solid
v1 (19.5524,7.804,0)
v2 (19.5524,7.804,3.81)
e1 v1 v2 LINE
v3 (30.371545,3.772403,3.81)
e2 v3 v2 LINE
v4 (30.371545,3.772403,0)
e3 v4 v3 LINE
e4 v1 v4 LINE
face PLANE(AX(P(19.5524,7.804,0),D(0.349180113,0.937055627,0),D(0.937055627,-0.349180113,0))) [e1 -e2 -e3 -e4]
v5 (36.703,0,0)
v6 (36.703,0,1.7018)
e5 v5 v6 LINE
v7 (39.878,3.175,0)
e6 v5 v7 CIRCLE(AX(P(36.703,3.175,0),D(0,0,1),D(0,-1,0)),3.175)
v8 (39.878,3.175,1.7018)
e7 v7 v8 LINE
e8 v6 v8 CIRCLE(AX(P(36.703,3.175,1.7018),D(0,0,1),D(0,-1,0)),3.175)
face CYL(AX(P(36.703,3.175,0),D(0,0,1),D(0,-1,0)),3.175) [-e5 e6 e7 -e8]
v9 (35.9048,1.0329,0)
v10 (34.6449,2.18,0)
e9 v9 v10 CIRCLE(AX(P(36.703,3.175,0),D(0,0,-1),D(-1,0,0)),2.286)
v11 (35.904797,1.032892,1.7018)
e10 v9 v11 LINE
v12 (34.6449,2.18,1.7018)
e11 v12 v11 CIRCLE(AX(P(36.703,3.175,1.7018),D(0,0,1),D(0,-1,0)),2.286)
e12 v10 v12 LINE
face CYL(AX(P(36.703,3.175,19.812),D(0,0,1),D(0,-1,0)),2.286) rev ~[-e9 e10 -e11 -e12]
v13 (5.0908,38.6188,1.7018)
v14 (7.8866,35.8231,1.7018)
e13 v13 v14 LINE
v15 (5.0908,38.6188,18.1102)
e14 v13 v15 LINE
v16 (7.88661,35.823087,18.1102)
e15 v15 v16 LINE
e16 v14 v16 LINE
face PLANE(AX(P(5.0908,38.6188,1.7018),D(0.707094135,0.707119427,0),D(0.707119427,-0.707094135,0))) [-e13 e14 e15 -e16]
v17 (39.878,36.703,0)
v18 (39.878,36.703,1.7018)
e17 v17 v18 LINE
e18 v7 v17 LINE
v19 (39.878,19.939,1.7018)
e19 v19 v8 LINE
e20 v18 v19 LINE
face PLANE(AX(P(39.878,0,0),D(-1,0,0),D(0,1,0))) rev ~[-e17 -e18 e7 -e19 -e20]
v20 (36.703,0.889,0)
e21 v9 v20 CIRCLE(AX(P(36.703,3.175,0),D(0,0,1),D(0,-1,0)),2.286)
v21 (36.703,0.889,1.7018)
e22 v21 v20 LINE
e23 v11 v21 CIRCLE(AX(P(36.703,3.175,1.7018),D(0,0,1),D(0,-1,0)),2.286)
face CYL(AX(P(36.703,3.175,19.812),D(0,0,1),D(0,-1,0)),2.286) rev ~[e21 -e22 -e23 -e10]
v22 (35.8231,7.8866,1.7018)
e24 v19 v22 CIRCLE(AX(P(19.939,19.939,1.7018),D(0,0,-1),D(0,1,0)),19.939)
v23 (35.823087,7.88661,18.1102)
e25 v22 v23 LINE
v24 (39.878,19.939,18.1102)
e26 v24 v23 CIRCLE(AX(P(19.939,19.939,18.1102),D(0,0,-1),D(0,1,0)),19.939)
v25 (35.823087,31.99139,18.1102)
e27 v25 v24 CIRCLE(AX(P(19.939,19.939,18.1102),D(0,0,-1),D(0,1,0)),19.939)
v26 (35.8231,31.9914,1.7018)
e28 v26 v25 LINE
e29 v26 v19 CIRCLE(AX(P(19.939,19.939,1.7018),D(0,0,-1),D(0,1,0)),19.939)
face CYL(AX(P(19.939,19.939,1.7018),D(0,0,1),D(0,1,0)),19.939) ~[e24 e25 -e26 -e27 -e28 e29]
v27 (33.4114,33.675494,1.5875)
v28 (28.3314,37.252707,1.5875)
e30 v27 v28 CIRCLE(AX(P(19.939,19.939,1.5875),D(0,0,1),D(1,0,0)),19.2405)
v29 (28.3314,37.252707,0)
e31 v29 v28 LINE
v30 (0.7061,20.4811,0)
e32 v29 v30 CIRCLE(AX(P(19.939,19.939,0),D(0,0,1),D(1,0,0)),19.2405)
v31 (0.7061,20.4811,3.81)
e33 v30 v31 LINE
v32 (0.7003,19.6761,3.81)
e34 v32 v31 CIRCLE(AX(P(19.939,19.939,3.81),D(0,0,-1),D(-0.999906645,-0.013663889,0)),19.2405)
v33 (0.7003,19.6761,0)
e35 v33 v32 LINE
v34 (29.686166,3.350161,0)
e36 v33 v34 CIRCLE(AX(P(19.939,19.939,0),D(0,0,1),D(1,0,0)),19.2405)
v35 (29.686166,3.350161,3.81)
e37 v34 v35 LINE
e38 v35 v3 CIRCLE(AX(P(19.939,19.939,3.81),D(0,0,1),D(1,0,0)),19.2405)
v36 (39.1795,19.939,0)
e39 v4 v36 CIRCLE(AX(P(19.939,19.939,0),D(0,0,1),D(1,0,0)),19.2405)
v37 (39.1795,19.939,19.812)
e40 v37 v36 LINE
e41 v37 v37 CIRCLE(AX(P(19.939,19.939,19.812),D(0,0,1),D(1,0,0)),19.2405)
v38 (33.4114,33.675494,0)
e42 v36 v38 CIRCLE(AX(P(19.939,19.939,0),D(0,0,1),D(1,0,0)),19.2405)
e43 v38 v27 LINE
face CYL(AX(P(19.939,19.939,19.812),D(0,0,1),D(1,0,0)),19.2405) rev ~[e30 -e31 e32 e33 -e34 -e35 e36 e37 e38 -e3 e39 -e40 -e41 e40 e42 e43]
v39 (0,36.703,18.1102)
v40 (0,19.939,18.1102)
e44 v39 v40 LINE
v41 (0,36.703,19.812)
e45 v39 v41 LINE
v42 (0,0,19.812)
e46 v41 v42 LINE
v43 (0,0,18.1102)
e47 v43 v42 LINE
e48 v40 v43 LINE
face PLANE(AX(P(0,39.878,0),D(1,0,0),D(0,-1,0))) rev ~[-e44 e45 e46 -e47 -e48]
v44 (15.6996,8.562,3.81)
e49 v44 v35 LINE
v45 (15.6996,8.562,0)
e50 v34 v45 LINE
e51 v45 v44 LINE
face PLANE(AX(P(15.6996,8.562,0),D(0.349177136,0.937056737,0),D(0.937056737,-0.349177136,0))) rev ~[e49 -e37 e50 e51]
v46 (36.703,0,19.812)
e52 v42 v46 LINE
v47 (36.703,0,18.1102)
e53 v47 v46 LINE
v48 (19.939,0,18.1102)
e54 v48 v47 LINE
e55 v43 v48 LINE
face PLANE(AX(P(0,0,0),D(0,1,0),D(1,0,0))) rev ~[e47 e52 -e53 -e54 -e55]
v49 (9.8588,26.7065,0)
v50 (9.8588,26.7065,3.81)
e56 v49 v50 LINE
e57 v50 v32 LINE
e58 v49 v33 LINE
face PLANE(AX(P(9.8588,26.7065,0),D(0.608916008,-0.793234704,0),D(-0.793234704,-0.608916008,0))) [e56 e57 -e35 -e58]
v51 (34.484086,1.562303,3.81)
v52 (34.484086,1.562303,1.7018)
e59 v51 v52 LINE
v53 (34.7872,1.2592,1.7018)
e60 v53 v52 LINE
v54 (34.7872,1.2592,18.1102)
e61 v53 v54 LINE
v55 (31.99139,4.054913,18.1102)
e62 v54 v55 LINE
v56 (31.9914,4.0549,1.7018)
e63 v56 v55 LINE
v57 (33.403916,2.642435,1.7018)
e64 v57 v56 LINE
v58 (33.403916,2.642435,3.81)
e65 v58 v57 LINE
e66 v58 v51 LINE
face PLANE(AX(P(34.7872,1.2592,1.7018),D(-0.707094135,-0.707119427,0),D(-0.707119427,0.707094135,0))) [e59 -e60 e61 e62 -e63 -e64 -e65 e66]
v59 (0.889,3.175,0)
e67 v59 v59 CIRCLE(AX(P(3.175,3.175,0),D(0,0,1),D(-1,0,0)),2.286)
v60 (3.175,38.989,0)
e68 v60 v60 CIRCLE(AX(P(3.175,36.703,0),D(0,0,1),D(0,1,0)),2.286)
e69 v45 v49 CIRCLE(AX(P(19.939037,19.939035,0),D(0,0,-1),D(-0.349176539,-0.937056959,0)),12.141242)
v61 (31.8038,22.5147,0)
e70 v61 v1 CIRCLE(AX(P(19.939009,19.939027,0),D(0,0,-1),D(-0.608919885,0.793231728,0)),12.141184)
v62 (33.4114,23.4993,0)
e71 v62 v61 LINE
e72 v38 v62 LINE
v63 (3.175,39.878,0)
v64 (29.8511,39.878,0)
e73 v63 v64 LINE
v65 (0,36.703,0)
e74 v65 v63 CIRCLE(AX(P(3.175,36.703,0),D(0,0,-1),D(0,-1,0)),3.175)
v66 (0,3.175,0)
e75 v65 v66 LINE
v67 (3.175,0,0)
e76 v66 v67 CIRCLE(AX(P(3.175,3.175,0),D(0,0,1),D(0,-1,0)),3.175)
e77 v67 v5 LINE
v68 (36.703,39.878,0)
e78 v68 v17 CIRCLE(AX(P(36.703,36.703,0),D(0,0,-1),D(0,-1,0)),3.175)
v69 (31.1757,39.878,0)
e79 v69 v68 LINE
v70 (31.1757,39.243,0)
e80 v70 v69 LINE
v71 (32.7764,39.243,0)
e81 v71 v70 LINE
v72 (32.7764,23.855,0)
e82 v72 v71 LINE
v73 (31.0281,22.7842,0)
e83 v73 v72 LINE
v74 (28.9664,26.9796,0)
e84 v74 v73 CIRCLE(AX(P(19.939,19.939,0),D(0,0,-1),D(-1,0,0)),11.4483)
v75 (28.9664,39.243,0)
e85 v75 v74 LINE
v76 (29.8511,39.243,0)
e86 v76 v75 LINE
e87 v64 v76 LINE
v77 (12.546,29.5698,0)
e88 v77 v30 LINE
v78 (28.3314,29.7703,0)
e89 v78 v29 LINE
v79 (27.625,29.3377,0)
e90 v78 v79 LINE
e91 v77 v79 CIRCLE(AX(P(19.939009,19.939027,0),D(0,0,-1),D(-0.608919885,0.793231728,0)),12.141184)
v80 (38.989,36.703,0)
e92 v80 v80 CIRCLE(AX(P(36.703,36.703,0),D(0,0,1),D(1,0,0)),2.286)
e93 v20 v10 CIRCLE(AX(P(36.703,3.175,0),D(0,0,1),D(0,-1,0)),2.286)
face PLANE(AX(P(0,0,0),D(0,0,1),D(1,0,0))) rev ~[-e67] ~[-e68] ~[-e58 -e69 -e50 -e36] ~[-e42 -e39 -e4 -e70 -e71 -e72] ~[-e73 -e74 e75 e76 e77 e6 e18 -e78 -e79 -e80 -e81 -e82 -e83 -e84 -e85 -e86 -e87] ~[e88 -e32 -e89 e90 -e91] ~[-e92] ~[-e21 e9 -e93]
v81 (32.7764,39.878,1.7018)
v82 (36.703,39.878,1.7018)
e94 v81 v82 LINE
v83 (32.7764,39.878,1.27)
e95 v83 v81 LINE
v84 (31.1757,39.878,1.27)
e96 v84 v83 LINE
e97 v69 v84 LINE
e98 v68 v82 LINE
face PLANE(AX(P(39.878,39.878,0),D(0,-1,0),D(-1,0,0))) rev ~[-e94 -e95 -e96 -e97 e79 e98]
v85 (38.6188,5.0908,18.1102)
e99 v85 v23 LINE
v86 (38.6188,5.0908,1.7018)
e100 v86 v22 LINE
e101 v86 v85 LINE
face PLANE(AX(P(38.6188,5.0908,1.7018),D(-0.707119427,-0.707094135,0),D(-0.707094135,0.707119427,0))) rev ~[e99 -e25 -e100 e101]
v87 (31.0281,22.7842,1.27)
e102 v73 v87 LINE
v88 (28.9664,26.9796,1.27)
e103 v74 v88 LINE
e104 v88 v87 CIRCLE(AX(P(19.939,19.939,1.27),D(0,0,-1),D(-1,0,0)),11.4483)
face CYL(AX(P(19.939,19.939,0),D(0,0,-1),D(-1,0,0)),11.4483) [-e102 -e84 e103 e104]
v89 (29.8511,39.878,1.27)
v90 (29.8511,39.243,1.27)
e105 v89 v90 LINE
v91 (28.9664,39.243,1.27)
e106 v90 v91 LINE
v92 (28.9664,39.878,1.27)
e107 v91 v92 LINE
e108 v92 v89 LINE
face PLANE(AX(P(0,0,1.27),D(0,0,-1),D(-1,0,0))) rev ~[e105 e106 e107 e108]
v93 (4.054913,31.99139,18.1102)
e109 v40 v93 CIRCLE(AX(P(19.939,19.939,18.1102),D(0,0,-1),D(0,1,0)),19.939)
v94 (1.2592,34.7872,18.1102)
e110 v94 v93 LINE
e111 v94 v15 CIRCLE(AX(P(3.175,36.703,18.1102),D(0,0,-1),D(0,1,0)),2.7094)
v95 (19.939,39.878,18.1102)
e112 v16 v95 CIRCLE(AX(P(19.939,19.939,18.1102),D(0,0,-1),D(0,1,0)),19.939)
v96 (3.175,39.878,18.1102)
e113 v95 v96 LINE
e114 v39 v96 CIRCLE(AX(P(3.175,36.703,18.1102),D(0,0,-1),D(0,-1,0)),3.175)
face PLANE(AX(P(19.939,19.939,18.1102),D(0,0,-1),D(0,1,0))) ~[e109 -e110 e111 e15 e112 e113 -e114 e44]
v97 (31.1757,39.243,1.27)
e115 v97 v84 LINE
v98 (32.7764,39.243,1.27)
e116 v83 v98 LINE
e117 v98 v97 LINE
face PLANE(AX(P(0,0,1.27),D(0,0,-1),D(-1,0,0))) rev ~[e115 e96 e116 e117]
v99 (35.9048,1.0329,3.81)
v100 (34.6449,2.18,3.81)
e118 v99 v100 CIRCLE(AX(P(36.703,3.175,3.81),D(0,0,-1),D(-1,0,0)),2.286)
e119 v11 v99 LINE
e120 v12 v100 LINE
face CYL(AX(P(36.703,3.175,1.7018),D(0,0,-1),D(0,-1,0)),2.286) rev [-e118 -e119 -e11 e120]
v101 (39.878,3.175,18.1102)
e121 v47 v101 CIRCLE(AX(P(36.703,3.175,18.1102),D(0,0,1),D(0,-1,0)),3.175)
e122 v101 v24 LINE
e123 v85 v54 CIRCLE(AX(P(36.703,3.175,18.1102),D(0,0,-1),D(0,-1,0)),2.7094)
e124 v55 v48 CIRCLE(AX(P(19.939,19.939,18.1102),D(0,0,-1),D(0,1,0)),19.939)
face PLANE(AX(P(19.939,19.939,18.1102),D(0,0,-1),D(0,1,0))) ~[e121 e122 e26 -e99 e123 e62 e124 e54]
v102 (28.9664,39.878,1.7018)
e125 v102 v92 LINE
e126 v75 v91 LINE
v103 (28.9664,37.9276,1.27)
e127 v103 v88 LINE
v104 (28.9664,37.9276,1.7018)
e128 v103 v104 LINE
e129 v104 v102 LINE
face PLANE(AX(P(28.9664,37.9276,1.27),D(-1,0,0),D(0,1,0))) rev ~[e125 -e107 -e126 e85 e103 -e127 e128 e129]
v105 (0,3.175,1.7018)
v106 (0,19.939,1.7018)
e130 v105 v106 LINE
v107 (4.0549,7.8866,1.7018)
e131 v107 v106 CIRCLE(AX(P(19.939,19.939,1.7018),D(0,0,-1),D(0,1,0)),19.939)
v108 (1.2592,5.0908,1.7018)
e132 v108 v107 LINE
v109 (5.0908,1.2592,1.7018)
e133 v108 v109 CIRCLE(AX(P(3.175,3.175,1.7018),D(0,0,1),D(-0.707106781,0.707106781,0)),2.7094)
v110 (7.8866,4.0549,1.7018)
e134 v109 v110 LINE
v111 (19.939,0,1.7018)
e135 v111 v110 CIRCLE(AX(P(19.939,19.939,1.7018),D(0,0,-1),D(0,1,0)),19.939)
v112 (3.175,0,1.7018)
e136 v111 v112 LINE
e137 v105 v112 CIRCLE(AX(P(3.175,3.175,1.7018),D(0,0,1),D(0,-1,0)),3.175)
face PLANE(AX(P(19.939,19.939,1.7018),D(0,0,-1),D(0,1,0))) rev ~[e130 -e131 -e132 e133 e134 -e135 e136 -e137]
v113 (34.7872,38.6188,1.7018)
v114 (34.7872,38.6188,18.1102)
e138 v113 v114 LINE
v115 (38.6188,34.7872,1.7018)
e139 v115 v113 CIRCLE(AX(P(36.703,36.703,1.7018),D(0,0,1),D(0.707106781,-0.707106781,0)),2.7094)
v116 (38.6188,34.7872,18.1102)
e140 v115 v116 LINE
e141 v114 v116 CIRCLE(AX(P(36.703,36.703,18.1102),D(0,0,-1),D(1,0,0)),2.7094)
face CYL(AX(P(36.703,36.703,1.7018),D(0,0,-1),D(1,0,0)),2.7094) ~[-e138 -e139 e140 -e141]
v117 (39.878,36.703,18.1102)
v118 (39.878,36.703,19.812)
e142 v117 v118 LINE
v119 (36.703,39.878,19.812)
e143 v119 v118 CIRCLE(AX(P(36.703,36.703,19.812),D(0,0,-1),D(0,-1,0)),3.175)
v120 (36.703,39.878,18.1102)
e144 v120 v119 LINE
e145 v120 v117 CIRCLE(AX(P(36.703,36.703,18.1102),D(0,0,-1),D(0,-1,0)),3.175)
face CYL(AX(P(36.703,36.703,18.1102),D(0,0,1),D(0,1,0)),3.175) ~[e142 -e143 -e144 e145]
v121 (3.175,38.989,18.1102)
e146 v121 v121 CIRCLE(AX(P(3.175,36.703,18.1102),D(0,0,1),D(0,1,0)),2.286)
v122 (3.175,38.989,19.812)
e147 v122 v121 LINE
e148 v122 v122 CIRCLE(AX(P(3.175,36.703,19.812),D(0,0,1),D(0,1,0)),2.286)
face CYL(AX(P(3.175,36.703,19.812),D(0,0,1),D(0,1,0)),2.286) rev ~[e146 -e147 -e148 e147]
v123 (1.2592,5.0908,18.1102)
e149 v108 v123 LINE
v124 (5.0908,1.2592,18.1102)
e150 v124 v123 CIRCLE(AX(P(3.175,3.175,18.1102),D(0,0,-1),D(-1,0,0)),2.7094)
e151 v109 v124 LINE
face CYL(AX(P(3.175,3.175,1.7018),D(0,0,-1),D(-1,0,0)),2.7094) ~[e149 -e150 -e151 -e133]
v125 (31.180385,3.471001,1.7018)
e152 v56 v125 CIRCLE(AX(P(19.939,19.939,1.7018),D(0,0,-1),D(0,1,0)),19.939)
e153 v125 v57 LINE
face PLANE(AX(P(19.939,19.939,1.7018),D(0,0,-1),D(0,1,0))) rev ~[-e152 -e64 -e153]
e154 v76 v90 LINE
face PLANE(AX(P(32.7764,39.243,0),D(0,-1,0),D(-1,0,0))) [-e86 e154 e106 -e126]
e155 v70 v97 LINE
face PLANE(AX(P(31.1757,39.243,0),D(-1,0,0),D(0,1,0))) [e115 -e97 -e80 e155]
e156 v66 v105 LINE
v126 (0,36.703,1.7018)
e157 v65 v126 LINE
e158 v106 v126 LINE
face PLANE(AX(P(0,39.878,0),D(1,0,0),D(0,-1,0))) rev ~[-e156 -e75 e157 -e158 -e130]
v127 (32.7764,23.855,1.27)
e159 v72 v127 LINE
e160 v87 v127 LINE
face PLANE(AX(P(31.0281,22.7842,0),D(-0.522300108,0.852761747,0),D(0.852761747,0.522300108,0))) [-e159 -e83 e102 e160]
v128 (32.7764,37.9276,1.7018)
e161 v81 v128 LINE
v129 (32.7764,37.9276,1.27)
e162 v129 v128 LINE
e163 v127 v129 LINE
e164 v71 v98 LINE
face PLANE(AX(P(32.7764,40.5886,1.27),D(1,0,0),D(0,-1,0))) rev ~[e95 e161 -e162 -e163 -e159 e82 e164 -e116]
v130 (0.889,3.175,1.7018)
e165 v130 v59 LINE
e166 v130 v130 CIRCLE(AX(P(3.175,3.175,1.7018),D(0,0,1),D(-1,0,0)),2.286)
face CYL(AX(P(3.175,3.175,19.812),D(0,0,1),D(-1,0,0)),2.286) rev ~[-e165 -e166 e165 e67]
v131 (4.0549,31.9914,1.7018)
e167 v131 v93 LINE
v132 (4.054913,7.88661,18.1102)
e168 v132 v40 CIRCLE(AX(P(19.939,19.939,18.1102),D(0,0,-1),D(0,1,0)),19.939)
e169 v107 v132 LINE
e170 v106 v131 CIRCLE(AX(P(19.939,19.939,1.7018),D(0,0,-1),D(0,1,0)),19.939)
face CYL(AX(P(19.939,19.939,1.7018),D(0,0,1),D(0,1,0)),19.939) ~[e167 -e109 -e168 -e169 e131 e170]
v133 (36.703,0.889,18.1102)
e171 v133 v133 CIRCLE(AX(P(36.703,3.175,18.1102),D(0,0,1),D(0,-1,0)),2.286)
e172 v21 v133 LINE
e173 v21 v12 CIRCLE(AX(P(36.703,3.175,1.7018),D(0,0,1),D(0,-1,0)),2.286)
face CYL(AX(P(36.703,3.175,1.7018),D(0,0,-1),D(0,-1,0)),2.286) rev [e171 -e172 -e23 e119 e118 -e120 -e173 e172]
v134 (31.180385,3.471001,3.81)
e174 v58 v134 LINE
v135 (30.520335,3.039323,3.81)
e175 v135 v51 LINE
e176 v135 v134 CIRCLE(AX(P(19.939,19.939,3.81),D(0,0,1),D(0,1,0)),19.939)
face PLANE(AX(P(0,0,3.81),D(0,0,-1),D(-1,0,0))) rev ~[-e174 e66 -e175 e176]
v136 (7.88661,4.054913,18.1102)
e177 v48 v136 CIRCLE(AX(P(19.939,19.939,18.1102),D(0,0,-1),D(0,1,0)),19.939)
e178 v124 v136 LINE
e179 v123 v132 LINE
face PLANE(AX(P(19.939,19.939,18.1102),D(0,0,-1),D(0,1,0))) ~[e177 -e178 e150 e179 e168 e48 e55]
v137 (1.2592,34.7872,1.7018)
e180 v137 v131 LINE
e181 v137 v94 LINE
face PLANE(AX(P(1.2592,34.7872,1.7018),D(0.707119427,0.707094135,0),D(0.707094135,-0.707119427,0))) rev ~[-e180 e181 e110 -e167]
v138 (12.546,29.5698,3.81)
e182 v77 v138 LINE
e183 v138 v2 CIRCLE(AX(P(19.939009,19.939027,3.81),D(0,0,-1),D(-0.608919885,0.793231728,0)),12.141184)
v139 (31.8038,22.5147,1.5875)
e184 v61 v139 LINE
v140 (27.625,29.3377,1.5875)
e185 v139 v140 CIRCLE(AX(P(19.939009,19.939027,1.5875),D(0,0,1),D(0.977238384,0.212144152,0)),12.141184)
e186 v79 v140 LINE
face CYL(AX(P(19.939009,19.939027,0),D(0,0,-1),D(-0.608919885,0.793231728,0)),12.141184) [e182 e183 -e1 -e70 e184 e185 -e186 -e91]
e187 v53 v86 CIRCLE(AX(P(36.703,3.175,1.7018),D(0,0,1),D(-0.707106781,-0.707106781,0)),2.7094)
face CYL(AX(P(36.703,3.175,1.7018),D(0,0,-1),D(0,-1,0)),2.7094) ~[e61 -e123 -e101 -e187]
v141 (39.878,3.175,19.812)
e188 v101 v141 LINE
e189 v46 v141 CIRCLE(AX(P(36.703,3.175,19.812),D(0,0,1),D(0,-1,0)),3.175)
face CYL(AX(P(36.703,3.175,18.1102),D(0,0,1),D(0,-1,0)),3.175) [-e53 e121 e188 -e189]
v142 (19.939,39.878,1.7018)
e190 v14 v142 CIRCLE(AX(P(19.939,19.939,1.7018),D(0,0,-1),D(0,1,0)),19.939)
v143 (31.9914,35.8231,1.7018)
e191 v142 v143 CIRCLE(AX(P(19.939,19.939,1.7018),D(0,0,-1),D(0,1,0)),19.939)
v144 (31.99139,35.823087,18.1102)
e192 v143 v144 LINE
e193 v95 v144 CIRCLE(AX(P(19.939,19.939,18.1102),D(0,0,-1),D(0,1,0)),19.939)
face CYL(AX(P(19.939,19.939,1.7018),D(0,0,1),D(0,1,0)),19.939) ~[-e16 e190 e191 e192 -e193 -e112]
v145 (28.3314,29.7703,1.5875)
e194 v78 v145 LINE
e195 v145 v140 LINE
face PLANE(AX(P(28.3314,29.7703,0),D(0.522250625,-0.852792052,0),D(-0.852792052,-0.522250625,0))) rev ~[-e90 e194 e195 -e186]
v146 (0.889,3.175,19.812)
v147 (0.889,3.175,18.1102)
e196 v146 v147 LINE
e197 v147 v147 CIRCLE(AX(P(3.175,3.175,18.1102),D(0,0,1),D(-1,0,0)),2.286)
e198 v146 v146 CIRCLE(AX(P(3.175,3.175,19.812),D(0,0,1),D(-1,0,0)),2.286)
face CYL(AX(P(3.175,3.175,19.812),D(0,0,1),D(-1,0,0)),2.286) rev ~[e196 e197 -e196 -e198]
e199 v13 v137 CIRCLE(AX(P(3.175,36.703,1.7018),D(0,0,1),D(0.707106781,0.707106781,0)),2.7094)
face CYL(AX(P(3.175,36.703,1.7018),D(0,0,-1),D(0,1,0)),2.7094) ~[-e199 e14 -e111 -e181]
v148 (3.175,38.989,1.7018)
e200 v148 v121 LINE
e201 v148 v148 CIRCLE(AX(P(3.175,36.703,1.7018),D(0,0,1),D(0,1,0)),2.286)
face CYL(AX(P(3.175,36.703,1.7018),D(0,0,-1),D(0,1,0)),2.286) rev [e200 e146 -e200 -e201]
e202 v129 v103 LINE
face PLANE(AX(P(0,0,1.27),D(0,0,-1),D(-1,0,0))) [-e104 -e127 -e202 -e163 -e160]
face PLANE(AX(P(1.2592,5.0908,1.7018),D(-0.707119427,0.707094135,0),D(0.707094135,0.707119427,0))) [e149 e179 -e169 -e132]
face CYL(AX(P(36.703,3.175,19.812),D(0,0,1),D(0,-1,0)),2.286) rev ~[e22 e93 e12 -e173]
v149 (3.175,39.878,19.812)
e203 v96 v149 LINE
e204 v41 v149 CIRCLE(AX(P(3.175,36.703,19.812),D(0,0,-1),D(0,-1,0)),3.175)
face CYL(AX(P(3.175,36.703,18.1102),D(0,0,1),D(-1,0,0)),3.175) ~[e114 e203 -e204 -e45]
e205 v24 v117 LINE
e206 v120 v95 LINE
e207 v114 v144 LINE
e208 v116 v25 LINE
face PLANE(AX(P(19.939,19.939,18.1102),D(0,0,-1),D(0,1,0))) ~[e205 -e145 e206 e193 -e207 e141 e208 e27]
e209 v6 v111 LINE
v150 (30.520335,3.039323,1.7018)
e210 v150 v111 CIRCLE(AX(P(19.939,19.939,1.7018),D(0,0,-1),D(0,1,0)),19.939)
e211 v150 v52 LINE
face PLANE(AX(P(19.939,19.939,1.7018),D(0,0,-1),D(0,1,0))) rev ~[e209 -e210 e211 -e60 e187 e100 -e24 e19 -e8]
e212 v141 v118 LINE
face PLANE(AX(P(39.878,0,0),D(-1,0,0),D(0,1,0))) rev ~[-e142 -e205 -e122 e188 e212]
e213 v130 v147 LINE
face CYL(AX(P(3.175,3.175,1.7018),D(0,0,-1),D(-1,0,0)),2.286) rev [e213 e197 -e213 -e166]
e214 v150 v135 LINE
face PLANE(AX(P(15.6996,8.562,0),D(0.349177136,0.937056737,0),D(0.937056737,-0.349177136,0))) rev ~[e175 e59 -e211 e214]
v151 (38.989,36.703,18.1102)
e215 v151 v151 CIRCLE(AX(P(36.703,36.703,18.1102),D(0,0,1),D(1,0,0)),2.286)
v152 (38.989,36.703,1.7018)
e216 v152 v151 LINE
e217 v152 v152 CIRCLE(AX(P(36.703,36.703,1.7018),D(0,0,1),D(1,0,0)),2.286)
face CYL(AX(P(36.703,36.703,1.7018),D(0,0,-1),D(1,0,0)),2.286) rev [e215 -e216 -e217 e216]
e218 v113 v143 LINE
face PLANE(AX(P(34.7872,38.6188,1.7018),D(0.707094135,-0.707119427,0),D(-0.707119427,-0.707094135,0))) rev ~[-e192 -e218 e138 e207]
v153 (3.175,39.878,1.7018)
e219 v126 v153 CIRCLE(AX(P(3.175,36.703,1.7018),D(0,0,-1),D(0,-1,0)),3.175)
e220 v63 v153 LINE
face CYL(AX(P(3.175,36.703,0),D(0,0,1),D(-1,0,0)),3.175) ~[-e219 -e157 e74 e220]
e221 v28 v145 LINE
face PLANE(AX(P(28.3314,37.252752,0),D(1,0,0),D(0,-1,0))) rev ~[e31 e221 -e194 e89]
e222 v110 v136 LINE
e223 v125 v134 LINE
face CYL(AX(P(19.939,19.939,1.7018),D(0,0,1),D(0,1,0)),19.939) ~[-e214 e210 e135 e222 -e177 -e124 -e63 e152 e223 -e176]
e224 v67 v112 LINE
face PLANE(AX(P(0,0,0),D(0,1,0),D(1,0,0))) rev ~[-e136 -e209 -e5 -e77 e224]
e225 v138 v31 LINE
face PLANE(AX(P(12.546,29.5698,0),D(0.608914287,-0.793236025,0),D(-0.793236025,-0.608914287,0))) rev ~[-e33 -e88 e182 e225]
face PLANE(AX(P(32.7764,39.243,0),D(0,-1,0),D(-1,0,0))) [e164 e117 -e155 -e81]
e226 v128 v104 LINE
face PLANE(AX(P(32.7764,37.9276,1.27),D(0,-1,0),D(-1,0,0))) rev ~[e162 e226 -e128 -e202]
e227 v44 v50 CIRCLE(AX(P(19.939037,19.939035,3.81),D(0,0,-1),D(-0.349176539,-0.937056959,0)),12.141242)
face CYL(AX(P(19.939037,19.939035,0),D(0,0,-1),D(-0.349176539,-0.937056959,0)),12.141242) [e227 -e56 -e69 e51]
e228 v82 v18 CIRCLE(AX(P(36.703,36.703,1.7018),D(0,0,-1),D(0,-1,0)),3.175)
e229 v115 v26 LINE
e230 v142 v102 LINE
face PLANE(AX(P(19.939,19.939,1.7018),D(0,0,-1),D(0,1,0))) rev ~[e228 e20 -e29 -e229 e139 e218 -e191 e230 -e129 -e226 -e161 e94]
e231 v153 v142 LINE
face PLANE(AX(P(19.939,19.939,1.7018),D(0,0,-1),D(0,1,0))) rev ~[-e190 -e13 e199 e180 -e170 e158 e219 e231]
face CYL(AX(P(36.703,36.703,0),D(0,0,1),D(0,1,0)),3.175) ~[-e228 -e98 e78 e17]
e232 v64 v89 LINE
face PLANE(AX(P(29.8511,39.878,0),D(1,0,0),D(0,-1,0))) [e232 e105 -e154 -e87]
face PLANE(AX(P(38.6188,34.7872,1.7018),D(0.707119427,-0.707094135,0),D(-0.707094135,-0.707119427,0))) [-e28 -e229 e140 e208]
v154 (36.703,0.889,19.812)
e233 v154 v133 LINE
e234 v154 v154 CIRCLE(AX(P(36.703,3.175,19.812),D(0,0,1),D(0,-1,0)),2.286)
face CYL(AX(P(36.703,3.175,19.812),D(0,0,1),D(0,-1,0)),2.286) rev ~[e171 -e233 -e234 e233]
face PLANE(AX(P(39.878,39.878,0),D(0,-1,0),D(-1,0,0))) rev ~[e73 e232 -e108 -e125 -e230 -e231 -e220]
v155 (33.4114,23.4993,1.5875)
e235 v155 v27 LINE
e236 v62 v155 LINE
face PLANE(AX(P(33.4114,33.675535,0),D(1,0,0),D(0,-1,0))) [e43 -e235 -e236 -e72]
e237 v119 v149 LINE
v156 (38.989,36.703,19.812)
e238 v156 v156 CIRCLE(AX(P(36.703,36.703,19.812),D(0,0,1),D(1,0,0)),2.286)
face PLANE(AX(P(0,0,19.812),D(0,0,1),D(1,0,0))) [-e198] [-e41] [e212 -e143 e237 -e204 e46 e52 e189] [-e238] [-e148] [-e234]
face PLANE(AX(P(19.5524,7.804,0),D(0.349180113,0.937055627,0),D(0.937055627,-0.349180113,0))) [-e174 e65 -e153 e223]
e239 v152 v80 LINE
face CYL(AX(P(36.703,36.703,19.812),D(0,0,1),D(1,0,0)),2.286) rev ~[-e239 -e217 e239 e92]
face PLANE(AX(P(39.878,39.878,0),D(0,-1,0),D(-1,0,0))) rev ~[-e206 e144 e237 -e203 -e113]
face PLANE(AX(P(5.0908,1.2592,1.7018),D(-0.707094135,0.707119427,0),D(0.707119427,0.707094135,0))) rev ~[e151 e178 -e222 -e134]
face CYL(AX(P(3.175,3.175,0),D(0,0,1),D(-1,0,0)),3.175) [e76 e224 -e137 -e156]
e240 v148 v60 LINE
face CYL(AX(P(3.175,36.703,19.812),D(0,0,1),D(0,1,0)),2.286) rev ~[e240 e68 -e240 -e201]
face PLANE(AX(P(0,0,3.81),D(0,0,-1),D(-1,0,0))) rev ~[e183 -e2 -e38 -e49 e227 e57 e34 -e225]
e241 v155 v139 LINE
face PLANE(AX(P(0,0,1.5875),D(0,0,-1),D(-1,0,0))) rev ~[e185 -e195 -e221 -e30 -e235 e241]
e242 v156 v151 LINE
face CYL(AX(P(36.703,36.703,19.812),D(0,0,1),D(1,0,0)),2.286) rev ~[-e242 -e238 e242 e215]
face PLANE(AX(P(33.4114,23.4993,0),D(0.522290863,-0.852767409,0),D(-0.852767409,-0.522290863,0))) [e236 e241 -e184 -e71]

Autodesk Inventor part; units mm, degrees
ref_plane "YZ Plane" through (0, 0, 0) normal (1, 0, 0) x (0, 1, 0)
sketch "Sketch1" plane through (0, 0, 0) normal (0, 0, 1) x (1, 0, 0)
  line L0 (0, 0) -> (39.878, 0)
  line L1 (39.878, 0) -> (39.878, 39.878)
  line L2 (39.878, 39.878) -> (0, 39.878)
  line L3 (0, 39.878) -> (0, 0)
  dimension "d0" = 39.878
  dimension "d1" = 39.878
extrude "Extrusion1" add sketch "Sketch1" along normal blind 19.812
ref_plane "Work Plane1" through (19.939, 0, 0) normal (1, 0, 0) x (0, 0, -1)
sketch "Sketch2" plane through (19.939, 0, 0) normal (1, 0, 0) x (0, 0, -1)
  line L0 (-19.812, 39.878) -> (-19.812, 0) projected
  line L1 (0, 0) -> (0, 39.878) projected
  line L2 (-19.812, 19.939) -> (0, 19.939)
  line L3 (-18.1102, 52.578) -> (-1.7018, 52.578)
  line L4 (-1.7018, 52.578) -> (-1.7018, 39.878)
  line L5 (-1.7018, 39.878) -> (-18.1102, 39.878)
  line L6 (-18.1102, 39.878) -> (-18.1102, 52.578)
  line L7 (-19.812, 39.878) -> (0, 39.878)
  dimension "d4" = 1.7018
  dimension "d5" = 1.7018
  dimension "d6" = 12.7
revolve "Revolution1" cut sketch "Sketch2" angle 360 about axis through (19.939, 19.939, 19.812) along (0, 0, -1) contours L6 L3 L4 L5
fillet "Fillet1" radius 3.175 7 edges at (39.878, 39.878, 18.9611) (39.878, 39.878, 0.8509) (0, 39.878, 18.9611) (0, 39.878, 0.8509) (0, 0, 0.8509) (39.878, 0, 0.8509) (39.878, 0, 18.9611)
sketch "Sketch3" plane through (0, 0, 19.812) normal (0, 0, 1) x (1, 0, 0)
  arc A0 (39.878, 36.703) -> (36.703, 39.878) centre (36.703, 36.703) ccw projected
  circle A1 centre (36.703, 36.703) radius 2.286
  dimension "d9" = 4.572
extrude "Extrusion2" cut sketch "Sketch3" against normal through all
sketch "Sketch4" plane through (19.939, 39.878, 1.7018) normal (0, 0, 1) x (1, 0, 0)
  circle A0 centre (16.764, -3.175) radius 2.286 projected
  arc A1 (19.939, -3.175) -> (16.764, 0) centre (16.764, -3.175) ccw projected
  arc A2 (19.939, -19.939) -> (0, 0) centre (0, -19.939) ccw projected
  line L0 (16.764, -3.175) -> (0, -19.939)
  circle A3 centre (16.764, -3.175) radius 2.7094
  line L1 (18.6798, -5.0908) -> (15.8841, -7.8866)
  line L2 (14.8482, -1.2592) -> (12.0524, -4.0549)
extrude "Extrusion3" add sketch "Sketch4" along normal up to next
pattern_circular "Circular Pattern1" count 4 over 360 about axis through (19.939, 19.939, 9.906) along (0, 0, 1) of "Extrusion2", "Extrusion3"
sketch "Sketch5" plane through (0, 0, 19.812) normal (0, 0, 1) x (1, 0, 0)
  arc A0 (19.939, 39.878) -> (7.8866, 35.8231) centre (19.939, 19.939) ccw projected
  arc A1 (31.9914, 35.8231) -> (19.939, 39.878) centre (19.939, 19.939) ccw projected
  arc A2 (31.9914, 35.8231) -> (19.939, 39.878) centre (19.939, 19.939) ccw projected
  arc A3 (19.939, 39.878) -> (7.8866, 35.8231) centre (19.939, 19.939) ccw projected
  circle A4 centre (19.939, 19.939) radius 19.2405
  dimension "d19" = 38.481
extrude "Extrusion4" cut sketch "Sketch5" against normal through all
sketch "Sketch6" plane through (0, 0, 0) normal (0, 0, -1) x (-1, 0, 0)
  circle A0 centre (-19.939, 19.939) radius 19.2405 projected
  circle A1 centre (-36.703, 3.175) radius 2.286 projected
  line L0 (-15.6996, 8.562) -> (-35.9048, 1.0329)
  line L1 (-19.5524, 7.804) -> (-34.6449, 2.18)
  line L2 (-12.546, 29.5698) -> (-0.7061, 20.4811)
  line L3 (-9.8588, 26.7065) -> (-0.7003, 19.6761)
  arc A2 (-12.546, 29.5698) -> (-19.5524, 7.804) centre (-19.939, 19.939) ccw
  arc A3 (-15.6996, 8.562) -> (-9.8588, 26.7065) centre (-19.939, 19.939) ccw
  dimension "d21" = 0.635
  dimension "d23" = 0.635
extrude "fan support1" add sketch "Sketch6" against normal blind 3.81 contours A0 L3 A3 L0 L1 A2 L2 | A0 L0 A1 L1
sketch "Sketch7" plane through (0, 0, 0) normal (0, 0, -1) x (-1, 0, 0)
  arc A0 (-12.546, 29.5698) -> (-19.5524, 7.804) centre (-19.939, 19.939) ccw projected
  arc A1 (-0.7061, 20.4811) -> (-30.3715, 3.7724) centre (-19.939, 19.939) ccw projected
  line L0 (-36.703, 39.878) -> (-3.175, 39.878) projected
  line L1 (-39.878, 3.175) -> (-39.878, 36.703) projected
  line L2 (-33.4114, 39.878) -> (-33.4114, 23.4993)
  line L3 (-28.3314, 39.878) -> (-28.3314, 29.7703)
  line L4 (-19.939, 19.939) -> (-32.8458, 27.844)
  line L5 (-33.4114, 23.4993) -> (-31.8038, 22.5147)
  line L6 (-28.3314, 29.7703) -> (-27.625, 29.3377)
  dimension "d26" = 5.08
  dimension "d27" = 8.001
  dimension "d28" = 4.0005
extrude "fan support2" add sketch "Sketch7" against normal blind 1.5875
sketch "Sketch8" plane through (0, 0, 0) normal (0, 0, -1) x (-1, 0, 0)
  line L0 (-33.4114, 33.6755) -> (-33.4114, 23.4993) projected
  line L1 (-33.4114, 23.4993) -> (-31.8038, 22.5147) projected
  line L2 (-28.3314, 29.7703) -> (-28.3314, 37.2527) projected
  line L3 (-36.703, 39.878) -> (-3.175, 39.878) projected
  line L4 (0, 36.703) -> (0, 3.175) projected
  arc A0 (-15.6996, 8.562) -> (-9.8588, 26.7065) centre (-19.939, 19.939) ccw projected
  line L5 (-31.0281, 22.7842) -> (-32.7764, 23.855)
  line L6 (-32.7764, 23.855) -> (-32.7764, 39.243)
  line L7 (-32.7764, 39.243) -> (-28.9664, 39.243)
  circle A1 centre (-19.939, 19.939) radius 11.4483
  line L8 (-28.9664, 39.243) -> (-28.9664, 26.9796)
  dimension "d31" = 22.8966
  dimension "d32" = 0.635
  dimension "d33" = 0.635
  dimension "d34" = 0.635
  dimension "d35" = 0.635
extrude "fan support3" cut sketch "Sketch8" against normal blind 1.27 contours L5 L6 L7 L8 A1
sketch "Sketch9" plane through (0, 0, 1.27) normal (0, 0, -1) x (-1, 0, 0)
  line L0 (-32.7764, 39.243) -> (-32.7764, 23.855) projected
  line L1 (-32.7764, 37.9276) -> (-28.9664, 37.9276)
  line L2 (-28.9664, 37.9276) -> (-28.9664, 40.5886)
  line L3 (-28.9664, 40.5886) -> (-32.7764, 40.5886)
  line L4 (-32.7764, 40.5886) -> (-32.7764, 37.9276)
extrude "fan support4" cut sketch "Sketch9" against normal blind 1.5557
sketch "Sketch10" plane through (0, 0, 0) normal (0, 0, -1) x (-1, 0, 0)
  line L0 (-32.7764, 39.243) -> (-28.9664, 39.243) projected
  line L1 (-36.703, 39.878) -> (-3.175, 39.878) projected
  line L2 (-31.1757, 39.878) -> (-29.8511, 39.878)
  line L3 (-29.8511, 39.878) -> (-29.8511, 39.243)
  line L4 (-29.8511, 39.243) -> (-31.1757, 39.243)
  line L5 (-31.1757, 39.243) -> (-31.1757, 39.878)
extrude "fan support5" cut sketch "Sketch10" against normal blind 1.5557
ref_plane "fan interface" through (0, 0, 5.3975) normal (0, 0, 1) x (1, 0, 0)
equation "\"d5\" = d4"
equation "\"d28\" = 0.5 * d27"
equation "\"d33\" = d32"
equation "\"d34\" = d33"
equation "\"d35\" = d34"
properties part number "fan body"
